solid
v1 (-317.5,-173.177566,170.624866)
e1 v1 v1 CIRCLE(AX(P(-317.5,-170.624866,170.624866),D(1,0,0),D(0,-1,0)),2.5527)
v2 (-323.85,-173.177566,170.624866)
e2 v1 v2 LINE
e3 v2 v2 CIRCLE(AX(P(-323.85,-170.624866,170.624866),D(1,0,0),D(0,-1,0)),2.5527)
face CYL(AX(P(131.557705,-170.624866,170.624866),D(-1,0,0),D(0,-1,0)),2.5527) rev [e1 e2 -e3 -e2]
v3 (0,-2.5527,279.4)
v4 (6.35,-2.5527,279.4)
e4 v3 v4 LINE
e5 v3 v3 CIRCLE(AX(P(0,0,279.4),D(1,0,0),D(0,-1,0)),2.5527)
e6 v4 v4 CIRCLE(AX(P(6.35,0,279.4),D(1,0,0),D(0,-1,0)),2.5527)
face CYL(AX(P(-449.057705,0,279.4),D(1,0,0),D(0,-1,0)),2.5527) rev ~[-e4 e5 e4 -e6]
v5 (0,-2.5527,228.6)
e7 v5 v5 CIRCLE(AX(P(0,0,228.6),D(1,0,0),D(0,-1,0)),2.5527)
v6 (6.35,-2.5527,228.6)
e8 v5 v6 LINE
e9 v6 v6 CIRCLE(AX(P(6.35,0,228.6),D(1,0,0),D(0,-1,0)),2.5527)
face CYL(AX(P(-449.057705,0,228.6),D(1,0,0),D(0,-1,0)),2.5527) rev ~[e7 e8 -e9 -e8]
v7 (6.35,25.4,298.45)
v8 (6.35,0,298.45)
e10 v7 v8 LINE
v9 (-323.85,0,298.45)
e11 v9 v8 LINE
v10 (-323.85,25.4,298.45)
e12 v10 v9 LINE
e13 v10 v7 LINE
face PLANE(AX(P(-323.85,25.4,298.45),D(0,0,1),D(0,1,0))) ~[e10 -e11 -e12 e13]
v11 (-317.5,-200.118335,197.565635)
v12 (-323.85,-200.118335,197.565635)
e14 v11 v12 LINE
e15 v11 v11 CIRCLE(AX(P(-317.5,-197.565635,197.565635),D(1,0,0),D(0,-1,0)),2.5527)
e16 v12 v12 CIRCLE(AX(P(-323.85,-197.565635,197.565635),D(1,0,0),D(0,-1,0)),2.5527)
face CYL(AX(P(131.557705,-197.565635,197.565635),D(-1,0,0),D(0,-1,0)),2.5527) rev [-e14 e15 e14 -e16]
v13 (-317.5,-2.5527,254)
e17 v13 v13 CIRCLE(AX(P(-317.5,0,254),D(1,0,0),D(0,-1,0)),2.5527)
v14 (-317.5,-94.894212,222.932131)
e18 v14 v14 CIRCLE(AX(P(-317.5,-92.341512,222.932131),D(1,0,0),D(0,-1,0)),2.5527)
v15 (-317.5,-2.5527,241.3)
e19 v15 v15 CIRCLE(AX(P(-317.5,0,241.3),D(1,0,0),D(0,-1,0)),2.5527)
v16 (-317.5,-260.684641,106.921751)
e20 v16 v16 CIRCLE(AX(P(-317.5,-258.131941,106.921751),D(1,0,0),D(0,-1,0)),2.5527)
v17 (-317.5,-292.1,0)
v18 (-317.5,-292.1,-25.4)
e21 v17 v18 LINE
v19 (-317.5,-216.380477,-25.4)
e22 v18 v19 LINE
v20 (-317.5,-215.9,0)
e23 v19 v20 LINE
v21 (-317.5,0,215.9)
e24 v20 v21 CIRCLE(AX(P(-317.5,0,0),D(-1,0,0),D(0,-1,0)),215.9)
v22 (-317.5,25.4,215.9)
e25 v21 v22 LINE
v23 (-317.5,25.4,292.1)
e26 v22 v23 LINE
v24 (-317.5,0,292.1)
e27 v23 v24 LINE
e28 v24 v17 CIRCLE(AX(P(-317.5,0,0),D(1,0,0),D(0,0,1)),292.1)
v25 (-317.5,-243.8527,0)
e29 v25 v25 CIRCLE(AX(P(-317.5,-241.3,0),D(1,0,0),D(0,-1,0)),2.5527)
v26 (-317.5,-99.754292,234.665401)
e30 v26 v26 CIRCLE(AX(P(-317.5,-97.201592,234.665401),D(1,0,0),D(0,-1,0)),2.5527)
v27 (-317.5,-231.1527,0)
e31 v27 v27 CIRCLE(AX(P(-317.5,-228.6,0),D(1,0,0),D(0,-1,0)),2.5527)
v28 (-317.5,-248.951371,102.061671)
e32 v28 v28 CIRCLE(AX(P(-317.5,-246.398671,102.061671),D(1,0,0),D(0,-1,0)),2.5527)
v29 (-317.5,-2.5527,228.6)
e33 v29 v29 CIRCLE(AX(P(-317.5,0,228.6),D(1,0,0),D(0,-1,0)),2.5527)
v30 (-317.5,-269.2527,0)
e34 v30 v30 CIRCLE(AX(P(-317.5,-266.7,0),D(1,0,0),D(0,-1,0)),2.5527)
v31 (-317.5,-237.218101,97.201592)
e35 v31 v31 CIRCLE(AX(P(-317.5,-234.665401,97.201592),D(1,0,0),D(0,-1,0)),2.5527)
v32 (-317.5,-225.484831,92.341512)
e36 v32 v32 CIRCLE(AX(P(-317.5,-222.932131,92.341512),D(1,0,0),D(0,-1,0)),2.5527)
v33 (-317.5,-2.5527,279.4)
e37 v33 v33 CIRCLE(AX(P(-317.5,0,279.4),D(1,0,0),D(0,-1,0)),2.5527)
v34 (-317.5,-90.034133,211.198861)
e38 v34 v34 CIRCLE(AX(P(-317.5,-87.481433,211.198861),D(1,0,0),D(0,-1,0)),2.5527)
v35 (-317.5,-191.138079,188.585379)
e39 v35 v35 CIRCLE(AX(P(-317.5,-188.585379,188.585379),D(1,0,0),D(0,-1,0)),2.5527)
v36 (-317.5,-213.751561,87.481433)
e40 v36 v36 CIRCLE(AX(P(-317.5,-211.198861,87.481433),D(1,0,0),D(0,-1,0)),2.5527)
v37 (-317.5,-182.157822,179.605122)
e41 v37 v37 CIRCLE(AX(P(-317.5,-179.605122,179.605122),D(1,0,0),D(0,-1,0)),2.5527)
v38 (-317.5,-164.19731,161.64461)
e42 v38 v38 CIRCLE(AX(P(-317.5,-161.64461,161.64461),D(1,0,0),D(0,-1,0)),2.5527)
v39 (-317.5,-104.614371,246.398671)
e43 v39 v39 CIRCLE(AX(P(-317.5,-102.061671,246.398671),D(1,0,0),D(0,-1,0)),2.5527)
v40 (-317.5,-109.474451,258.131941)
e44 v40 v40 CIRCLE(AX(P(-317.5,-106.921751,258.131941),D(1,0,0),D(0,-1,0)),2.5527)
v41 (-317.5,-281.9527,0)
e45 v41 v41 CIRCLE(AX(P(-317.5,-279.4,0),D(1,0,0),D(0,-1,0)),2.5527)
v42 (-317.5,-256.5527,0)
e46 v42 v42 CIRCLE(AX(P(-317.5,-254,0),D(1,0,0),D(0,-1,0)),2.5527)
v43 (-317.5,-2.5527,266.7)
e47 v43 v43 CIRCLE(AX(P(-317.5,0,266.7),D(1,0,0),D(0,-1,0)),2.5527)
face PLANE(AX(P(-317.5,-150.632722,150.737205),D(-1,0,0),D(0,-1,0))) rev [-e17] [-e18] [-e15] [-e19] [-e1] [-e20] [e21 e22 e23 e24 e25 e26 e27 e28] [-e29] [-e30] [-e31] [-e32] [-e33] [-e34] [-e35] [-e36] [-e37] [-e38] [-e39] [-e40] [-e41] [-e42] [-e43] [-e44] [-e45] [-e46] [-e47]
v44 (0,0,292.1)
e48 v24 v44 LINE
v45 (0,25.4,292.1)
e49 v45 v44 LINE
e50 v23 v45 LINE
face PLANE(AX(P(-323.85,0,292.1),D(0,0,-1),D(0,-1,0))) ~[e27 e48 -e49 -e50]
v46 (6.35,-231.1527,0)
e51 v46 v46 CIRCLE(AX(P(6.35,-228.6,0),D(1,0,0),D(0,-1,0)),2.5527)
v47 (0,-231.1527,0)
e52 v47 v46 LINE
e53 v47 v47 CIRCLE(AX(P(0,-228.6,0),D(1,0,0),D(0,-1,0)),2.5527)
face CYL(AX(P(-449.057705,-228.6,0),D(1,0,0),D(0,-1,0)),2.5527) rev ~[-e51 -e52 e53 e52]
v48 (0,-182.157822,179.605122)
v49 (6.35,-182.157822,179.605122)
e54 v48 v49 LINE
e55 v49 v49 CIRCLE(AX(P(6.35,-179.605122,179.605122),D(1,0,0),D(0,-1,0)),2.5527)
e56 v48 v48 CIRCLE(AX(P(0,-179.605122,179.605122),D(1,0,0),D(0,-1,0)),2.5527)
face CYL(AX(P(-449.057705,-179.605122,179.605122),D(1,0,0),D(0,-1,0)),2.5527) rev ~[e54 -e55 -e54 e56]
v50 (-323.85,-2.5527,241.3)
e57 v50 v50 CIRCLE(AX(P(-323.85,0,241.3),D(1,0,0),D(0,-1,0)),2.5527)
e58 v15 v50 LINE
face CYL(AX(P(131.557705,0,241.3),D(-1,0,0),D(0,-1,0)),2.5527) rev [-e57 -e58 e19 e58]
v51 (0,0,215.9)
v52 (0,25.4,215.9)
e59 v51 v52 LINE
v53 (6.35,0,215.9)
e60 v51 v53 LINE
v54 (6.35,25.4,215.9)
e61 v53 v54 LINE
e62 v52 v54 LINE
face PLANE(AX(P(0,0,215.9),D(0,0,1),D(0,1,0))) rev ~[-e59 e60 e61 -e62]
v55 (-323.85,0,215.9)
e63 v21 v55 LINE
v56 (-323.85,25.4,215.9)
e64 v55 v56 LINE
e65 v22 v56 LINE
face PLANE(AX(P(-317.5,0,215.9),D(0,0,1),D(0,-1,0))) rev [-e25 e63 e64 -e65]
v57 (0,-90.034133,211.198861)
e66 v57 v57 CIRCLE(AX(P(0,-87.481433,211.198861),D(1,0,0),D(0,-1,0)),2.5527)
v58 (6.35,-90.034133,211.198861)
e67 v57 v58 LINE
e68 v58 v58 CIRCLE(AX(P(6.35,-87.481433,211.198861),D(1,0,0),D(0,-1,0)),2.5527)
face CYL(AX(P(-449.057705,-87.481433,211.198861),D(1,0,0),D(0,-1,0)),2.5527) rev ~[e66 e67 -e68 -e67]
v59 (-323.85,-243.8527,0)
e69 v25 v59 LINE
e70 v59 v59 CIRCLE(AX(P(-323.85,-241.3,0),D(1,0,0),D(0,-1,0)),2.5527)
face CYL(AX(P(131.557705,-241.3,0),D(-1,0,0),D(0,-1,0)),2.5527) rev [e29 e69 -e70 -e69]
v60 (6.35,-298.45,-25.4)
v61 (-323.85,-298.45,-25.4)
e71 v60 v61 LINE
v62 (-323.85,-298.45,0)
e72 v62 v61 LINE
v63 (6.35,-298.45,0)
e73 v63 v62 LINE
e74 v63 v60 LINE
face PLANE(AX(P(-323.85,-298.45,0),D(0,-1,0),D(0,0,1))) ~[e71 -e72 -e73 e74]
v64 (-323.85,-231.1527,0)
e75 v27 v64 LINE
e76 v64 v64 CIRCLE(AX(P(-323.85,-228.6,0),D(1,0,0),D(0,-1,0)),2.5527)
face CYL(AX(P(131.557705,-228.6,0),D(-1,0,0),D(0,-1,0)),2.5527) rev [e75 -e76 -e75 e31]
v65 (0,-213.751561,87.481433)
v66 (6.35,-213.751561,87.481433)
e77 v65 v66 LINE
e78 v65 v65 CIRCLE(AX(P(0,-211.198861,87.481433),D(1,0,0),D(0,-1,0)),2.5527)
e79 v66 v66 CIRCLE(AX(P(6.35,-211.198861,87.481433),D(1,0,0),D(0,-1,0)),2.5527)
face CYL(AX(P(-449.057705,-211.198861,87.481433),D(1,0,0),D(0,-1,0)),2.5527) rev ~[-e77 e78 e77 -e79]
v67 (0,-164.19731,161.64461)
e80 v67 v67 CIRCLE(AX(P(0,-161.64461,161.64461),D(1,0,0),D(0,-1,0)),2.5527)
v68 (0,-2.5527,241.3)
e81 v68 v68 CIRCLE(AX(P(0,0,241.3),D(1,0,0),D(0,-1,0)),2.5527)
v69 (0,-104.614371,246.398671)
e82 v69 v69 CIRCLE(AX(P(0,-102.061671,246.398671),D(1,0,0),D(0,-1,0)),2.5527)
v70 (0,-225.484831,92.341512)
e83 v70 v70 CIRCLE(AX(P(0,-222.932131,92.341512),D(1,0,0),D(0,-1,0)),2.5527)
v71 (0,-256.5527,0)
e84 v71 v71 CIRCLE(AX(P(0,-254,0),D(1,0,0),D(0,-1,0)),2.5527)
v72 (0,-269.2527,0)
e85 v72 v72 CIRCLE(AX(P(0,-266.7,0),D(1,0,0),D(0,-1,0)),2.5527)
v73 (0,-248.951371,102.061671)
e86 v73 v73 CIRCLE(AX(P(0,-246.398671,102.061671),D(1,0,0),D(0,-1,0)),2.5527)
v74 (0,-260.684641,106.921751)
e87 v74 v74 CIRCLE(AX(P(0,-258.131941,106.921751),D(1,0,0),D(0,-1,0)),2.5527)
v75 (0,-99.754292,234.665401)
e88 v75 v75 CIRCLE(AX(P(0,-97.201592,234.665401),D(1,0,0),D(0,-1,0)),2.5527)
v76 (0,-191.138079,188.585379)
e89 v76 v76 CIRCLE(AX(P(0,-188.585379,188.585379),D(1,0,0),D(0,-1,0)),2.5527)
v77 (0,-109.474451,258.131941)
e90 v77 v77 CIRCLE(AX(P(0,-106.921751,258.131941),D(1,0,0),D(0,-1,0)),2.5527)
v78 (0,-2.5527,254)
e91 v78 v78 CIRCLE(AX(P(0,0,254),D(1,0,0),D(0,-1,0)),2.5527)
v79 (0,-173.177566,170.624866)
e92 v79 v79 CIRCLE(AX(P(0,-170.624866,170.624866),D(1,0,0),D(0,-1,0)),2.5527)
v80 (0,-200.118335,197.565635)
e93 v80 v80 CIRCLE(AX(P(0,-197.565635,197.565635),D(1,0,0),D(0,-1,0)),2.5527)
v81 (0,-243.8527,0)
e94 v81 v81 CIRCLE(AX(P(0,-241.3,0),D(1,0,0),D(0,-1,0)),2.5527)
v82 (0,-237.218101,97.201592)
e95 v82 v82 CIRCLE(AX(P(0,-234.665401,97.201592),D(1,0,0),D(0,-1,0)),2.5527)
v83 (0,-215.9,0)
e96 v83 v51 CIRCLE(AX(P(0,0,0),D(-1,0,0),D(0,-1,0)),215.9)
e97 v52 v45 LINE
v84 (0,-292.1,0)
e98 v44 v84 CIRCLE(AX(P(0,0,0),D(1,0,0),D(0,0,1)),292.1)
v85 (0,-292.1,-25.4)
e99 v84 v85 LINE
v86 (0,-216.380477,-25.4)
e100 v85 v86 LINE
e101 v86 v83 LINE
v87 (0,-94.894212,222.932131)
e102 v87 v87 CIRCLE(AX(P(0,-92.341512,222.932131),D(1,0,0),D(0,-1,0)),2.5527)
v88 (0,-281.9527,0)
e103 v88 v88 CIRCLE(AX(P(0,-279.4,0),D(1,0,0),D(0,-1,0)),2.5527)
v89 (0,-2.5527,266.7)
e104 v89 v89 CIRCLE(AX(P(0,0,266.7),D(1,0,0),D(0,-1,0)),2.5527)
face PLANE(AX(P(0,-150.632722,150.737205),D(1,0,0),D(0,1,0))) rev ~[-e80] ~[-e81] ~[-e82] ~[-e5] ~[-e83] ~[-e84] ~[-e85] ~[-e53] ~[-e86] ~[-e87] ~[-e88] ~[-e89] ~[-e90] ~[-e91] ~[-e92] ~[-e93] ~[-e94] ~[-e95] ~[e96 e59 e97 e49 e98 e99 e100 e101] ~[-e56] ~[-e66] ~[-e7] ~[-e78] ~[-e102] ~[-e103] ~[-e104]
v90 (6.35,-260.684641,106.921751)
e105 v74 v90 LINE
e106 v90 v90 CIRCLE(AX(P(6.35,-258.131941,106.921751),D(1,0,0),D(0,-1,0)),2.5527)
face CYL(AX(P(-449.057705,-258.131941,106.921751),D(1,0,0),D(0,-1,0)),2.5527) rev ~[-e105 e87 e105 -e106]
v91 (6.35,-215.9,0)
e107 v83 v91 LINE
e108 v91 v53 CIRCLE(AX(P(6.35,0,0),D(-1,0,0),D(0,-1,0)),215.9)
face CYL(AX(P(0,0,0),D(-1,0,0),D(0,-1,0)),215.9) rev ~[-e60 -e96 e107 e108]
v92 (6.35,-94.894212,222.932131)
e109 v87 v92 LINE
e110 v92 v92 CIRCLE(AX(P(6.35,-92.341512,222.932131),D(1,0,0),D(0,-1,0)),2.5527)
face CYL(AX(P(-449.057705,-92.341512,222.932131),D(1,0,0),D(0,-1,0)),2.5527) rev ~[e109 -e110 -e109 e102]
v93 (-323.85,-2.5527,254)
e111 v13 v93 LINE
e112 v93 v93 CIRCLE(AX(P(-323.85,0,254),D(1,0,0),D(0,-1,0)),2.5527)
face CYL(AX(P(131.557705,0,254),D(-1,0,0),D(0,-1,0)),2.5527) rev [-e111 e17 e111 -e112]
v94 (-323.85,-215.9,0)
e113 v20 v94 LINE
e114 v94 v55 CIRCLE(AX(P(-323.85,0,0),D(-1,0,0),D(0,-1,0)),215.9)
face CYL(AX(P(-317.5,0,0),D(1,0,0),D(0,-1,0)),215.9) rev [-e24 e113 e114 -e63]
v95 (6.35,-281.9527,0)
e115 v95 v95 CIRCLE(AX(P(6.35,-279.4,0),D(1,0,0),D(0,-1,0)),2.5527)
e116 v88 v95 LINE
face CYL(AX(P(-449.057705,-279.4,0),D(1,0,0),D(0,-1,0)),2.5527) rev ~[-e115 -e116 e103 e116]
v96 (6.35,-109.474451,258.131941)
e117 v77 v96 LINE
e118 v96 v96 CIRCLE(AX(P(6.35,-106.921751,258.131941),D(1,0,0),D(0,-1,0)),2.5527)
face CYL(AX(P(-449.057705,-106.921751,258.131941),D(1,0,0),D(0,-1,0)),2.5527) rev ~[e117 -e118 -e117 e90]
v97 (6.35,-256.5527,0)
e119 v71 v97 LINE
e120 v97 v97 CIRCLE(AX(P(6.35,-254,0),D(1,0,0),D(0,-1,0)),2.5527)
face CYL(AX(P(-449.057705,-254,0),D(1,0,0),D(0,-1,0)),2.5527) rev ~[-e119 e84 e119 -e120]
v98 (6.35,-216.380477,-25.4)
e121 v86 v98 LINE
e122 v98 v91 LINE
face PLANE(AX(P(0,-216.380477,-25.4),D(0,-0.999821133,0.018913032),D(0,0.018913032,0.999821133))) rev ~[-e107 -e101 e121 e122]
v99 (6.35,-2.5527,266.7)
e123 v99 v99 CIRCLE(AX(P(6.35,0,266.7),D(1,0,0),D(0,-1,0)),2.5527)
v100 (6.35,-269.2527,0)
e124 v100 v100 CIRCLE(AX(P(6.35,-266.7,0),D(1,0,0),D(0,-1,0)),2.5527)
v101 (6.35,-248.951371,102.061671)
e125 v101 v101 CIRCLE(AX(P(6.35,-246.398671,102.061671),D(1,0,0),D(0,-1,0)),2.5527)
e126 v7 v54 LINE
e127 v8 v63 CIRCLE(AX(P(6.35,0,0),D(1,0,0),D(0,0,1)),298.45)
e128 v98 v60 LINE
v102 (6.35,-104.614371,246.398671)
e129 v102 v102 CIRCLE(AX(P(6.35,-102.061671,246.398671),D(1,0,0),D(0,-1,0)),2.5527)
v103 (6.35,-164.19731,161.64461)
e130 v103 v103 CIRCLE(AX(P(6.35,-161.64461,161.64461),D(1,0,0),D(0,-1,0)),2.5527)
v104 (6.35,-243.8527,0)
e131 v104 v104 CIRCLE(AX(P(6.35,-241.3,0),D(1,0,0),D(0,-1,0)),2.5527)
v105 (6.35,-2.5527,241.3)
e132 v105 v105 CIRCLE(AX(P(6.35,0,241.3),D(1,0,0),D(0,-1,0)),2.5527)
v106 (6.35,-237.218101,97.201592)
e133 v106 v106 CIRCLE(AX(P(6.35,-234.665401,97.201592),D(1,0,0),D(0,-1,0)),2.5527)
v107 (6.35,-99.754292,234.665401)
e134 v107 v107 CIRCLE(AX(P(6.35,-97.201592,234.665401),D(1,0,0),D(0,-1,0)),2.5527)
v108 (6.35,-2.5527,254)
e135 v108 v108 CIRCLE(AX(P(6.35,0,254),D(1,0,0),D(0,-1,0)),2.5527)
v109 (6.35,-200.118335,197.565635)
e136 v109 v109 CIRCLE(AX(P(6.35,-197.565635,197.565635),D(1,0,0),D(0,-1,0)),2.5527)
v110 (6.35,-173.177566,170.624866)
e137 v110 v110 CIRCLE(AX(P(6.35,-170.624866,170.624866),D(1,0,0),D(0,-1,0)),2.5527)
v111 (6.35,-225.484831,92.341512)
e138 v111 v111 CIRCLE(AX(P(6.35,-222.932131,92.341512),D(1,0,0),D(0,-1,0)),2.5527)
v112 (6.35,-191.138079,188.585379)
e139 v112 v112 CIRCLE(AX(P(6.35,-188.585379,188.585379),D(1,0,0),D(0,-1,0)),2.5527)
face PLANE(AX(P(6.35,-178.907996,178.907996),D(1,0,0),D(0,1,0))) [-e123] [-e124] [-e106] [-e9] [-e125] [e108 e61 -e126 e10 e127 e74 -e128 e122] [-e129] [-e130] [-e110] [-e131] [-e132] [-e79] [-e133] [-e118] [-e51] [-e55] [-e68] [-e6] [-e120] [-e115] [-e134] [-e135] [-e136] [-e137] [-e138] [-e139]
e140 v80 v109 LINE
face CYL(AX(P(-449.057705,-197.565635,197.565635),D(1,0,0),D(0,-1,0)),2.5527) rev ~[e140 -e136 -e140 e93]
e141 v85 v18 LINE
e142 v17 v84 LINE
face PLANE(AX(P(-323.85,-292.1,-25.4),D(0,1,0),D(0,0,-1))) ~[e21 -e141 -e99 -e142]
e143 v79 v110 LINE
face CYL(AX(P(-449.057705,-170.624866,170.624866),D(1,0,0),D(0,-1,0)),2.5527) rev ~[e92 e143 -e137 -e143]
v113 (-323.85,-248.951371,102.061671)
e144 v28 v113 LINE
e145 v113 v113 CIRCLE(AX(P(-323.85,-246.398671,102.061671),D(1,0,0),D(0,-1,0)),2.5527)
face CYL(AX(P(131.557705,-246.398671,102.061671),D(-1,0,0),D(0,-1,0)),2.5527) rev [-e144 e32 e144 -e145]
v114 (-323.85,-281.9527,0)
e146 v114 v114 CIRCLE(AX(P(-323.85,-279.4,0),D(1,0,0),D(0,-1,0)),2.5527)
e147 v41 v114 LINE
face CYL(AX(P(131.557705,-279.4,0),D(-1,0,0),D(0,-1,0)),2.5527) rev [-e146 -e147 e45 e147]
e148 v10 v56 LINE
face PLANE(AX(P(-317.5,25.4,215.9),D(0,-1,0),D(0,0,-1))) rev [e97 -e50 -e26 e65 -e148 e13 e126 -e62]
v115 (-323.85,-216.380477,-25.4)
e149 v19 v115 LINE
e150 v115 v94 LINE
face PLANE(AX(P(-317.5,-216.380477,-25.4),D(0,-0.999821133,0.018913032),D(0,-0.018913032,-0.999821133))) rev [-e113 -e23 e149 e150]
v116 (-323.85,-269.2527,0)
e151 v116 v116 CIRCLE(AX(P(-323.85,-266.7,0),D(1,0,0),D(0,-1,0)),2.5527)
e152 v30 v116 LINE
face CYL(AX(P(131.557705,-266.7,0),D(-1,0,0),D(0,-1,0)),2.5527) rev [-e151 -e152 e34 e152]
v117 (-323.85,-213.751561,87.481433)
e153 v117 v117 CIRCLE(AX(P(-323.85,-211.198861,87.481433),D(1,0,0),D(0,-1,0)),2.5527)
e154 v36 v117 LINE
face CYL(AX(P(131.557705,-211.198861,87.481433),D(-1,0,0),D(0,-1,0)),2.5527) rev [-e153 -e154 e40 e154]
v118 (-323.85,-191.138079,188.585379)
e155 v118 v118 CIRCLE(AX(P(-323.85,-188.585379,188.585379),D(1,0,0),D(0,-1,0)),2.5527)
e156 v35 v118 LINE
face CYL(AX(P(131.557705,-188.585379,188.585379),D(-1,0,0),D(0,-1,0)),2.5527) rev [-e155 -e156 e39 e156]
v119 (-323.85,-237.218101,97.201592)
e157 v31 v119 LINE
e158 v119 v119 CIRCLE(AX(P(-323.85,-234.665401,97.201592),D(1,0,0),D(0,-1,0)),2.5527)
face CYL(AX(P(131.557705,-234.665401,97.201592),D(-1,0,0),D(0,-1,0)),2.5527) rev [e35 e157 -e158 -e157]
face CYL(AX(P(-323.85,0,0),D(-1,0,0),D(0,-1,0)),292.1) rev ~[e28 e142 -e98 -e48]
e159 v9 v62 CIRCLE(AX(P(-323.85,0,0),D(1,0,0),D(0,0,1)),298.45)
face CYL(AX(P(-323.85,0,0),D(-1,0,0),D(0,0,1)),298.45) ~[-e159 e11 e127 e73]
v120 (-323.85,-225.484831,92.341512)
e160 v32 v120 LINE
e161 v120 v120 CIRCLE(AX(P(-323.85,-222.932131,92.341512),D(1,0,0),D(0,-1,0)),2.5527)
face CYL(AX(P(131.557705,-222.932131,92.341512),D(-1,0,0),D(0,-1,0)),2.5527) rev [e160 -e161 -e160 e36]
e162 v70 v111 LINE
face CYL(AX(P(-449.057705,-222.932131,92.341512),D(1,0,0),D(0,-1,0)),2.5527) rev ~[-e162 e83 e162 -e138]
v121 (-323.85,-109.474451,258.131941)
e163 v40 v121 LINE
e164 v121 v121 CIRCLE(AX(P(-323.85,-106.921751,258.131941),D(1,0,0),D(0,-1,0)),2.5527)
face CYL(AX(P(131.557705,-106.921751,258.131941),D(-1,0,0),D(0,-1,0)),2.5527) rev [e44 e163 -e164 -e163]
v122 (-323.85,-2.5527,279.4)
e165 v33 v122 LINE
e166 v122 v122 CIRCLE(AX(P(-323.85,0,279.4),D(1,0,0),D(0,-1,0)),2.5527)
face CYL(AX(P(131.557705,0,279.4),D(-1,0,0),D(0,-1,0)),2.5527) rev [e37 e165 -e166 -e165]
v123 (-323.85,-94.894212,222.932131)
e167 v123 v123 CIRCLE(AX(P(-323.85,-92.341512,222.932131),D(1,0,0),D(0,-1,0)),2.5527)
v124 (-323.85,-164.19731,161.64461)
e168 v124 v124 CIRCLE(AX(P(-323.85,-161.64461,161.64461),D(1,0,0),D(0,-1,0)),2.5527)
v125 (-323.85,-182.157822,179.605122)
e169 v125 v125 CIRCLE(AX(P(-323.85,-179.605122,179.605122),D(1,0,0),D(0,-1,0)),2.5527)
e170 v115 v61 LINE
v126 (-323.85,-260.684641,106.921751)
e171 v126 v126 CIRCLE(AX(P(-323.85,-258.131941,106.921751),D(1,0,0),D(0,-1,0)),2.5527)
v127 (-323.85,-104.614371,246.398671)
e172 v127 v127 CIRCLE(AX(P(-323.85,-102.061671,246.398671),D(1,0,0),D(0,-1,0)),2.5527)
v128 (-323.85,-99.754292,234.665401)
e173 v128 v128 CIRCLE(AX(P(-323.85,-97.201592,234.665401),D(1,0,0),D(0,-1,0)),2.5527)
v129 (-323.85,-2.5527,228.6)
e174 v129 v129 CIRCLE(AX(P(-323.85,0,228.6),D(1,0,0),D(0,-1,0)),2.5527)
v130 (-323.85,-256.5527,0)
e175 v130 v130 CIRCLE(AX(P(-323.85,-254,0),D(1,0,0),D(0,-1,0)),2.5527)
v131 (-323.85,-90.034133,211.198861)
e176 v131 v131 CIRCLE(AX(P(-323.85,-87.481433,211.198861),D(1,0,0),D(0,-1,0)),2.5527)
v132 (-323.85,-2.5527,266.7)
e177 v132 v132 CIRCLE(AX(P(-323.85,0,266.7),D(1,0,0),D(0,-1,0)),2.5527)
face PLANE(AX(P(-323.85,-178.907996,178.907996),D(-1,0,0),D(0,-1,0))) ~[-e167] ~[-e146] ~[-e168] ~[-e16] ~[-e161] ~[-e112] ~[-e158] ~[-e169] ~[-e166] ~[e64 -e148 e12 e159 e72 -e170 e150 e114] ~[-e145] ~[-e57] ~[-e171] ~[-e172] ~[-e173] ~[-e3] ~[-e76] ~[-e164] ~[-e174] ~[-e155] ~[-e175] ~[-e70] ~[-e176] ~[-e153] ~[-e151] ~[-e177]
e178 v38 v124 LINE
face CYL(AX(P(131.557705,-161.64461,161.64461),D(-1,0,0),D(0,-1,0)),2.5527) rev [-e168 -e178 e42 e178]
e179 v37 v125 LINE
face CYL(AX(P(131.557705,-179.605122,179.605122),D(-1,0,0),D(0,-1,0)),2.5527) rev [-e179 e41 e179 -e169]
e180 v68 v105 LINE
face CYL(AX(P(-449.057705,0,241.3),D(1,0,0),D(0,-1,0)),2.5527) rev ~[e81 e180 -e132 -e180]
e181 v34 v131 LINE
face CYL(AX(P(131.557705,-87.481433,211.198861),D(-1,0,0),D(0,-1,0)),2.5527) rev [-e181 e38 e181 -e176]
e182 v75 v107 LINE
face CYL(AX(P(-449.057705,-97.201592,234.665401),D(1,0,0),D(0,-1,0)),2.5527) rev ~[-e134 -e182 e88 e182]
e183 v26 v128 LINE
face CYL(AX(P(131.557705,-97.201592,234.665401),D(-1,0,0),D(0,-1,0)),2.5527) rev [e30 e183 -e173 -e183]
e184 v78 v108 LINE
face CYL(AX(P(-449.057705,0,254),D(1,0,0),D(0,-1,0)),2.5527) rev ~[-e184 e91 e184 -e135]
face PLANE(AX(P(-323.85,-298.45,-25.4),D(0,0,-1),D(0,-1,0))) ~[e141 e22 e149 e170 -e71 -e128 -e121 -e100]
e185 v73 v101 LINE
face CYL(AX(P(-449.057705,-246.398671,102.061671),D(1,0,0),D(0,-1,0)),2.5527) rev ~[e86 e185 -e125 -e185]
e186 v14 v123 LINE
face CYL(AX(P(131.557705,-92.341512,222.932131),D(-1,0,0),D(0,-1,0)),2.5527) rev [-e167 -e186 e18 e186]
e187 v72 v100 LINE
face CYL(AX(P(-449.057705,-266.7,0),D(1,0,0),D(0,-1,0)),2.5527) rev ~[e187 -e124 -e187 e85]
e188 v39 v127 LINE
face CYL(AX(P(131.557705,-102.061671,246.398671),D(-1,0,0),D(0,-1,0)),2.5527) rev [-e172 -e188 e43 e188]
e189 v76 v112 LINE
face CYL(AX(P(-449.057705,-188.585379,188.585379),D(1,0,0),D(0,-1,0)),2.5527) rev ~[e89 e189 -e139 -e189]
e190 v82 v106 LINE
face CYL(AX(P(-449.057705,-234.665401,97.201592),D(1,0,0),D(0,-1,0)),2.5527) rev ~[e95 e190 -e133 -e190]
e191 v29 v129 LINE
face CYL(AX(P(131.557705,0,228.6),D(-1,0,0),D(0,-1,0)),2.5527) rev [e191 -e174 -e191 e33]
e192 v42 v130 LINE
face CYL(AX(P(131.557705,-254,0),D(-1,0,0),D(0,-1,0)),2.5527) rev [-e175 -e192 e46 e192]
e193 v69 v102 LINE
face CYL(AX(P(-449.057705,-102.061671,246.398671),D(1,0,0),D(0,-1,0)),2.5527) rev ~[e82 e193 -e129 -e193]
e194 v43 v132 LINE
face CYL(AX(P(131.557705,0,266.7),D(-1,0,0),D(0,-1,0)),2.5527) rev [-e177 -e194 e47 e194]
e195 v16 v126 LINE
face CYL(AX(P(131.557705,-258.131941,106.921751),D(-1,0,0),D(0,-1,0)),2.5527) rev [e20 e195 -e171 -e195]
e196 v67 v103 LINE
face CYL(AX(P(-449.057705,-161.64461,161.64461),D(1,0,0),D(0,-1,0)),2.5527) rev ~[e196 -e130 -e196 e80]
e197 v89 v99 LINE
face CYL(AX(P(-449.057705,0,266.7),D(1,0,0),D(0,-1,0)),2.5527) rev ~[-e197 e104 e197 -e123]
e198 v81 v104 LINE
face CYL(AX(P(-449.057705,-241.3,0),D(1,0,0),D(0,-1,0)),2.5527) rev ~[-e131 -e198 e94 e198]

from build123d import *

# Parameters (mm, degrees)
F1_DEPTH = 6.35
F3_D     = 5.1054
F5_DEPTH = 165.1


with BuildPart() as f1:
    # F0 (on Right) → F1 (new body)
    with BuildSketch(Plane.YZ):
        with BuildLine():
            Line((25.4, 292.1), (0, 292.1))
            ThreePointArc((0, 292.1), (-206.5458907846, 206.5458907846), (-292.1, 0))
            Line((-292.1, 0), (-292.1, -25.4))
            Line((-292.1, -25.4), (-216.3804769516, -25.4))
            Line((-216.3804769516, -25.4), (-215.9, 0))
            ThreePointArc((-215.9, 0), (-152.6643540582, 152.6643540582), (0, 215.9))
            Line((0, 215.9), (25.4, 215.9))
            Line((25.4, 215.9), (25.4, 292.1))
        make_face()
    extrude(amount=F1_DEPTH)

    # F3 (through all)
    with Locations(Plane(origin=(0, 0, 0), x_dir=(0, 1, 0), z_dir=(-1, 0, 0))):
        with Locations((-170.6248663003, -170.6248663003), (-234.6654012579, -97.2015918207), (-279.4, 0), (0, -279.4), (0, -228.6), (-266.7, 0), (-188.5853785425, -188.5853785425), (-222.932131195, -92.3415122297), (-211.1988611321, -87.4814326387), (-106.9217510028, -258.1319413837), (-254, 0), (0, -266.7), (-246.3986713208, -102.0616714118), (-197.5656346635, -197.5656346635), (-228.6, 0), (-258.1319413837, -106.9217510028), (-102.0616714118, -246.3986713208), (-97.2015918207, -234.6654012579), (-161.6446101792, -161.6446101792), (-241.3, 0), (-179.6051224214, -179.6051224214), (-92.3415122297, -222.932131195), (0, 0), (0, -254), (-87.4814326387, -211.1988611321), (0, -241.3)):
            Hole(F3_D / 2)

    # F4 (on face) → F5 (join)
    with BuildSketch(Plane.YZ.offset(6.35)):
        with BuildLine():
            Line((-292.1, -25.4), (-292.1, 0))
            ThreePointArc((-292.1, 0), (-206.5458907846, 206.5458907846), (0, 292.1))
            Line((0, 292.1), (25.4, 292.1))
            Line((25.4, 292.1), (25.4, 298.45))
            Line((25.4, 298.45), (0, 298.45))
            ThreePointArc((0, 298.45), (-211.0360188451, 211.0360188451), (-298.45, 0))
            Line((-298.45, 0), (-298.45, -25.4))
            Line((-298.45, -25.4), (-292.1, -25.4))
        make_face()
    extrude(amount=-F5_DEPTH)

    # F6: F1 across face


with BuildPart() as f1_1:
    add(f1.part)
    add(f1.part.mirror(Plane(origin=(-158.75, -183.3754264806, 183.3754264806), x_dir=(0, 1, 0), z_dir=(-1, 0, 0))))


solid = f1_1.part
